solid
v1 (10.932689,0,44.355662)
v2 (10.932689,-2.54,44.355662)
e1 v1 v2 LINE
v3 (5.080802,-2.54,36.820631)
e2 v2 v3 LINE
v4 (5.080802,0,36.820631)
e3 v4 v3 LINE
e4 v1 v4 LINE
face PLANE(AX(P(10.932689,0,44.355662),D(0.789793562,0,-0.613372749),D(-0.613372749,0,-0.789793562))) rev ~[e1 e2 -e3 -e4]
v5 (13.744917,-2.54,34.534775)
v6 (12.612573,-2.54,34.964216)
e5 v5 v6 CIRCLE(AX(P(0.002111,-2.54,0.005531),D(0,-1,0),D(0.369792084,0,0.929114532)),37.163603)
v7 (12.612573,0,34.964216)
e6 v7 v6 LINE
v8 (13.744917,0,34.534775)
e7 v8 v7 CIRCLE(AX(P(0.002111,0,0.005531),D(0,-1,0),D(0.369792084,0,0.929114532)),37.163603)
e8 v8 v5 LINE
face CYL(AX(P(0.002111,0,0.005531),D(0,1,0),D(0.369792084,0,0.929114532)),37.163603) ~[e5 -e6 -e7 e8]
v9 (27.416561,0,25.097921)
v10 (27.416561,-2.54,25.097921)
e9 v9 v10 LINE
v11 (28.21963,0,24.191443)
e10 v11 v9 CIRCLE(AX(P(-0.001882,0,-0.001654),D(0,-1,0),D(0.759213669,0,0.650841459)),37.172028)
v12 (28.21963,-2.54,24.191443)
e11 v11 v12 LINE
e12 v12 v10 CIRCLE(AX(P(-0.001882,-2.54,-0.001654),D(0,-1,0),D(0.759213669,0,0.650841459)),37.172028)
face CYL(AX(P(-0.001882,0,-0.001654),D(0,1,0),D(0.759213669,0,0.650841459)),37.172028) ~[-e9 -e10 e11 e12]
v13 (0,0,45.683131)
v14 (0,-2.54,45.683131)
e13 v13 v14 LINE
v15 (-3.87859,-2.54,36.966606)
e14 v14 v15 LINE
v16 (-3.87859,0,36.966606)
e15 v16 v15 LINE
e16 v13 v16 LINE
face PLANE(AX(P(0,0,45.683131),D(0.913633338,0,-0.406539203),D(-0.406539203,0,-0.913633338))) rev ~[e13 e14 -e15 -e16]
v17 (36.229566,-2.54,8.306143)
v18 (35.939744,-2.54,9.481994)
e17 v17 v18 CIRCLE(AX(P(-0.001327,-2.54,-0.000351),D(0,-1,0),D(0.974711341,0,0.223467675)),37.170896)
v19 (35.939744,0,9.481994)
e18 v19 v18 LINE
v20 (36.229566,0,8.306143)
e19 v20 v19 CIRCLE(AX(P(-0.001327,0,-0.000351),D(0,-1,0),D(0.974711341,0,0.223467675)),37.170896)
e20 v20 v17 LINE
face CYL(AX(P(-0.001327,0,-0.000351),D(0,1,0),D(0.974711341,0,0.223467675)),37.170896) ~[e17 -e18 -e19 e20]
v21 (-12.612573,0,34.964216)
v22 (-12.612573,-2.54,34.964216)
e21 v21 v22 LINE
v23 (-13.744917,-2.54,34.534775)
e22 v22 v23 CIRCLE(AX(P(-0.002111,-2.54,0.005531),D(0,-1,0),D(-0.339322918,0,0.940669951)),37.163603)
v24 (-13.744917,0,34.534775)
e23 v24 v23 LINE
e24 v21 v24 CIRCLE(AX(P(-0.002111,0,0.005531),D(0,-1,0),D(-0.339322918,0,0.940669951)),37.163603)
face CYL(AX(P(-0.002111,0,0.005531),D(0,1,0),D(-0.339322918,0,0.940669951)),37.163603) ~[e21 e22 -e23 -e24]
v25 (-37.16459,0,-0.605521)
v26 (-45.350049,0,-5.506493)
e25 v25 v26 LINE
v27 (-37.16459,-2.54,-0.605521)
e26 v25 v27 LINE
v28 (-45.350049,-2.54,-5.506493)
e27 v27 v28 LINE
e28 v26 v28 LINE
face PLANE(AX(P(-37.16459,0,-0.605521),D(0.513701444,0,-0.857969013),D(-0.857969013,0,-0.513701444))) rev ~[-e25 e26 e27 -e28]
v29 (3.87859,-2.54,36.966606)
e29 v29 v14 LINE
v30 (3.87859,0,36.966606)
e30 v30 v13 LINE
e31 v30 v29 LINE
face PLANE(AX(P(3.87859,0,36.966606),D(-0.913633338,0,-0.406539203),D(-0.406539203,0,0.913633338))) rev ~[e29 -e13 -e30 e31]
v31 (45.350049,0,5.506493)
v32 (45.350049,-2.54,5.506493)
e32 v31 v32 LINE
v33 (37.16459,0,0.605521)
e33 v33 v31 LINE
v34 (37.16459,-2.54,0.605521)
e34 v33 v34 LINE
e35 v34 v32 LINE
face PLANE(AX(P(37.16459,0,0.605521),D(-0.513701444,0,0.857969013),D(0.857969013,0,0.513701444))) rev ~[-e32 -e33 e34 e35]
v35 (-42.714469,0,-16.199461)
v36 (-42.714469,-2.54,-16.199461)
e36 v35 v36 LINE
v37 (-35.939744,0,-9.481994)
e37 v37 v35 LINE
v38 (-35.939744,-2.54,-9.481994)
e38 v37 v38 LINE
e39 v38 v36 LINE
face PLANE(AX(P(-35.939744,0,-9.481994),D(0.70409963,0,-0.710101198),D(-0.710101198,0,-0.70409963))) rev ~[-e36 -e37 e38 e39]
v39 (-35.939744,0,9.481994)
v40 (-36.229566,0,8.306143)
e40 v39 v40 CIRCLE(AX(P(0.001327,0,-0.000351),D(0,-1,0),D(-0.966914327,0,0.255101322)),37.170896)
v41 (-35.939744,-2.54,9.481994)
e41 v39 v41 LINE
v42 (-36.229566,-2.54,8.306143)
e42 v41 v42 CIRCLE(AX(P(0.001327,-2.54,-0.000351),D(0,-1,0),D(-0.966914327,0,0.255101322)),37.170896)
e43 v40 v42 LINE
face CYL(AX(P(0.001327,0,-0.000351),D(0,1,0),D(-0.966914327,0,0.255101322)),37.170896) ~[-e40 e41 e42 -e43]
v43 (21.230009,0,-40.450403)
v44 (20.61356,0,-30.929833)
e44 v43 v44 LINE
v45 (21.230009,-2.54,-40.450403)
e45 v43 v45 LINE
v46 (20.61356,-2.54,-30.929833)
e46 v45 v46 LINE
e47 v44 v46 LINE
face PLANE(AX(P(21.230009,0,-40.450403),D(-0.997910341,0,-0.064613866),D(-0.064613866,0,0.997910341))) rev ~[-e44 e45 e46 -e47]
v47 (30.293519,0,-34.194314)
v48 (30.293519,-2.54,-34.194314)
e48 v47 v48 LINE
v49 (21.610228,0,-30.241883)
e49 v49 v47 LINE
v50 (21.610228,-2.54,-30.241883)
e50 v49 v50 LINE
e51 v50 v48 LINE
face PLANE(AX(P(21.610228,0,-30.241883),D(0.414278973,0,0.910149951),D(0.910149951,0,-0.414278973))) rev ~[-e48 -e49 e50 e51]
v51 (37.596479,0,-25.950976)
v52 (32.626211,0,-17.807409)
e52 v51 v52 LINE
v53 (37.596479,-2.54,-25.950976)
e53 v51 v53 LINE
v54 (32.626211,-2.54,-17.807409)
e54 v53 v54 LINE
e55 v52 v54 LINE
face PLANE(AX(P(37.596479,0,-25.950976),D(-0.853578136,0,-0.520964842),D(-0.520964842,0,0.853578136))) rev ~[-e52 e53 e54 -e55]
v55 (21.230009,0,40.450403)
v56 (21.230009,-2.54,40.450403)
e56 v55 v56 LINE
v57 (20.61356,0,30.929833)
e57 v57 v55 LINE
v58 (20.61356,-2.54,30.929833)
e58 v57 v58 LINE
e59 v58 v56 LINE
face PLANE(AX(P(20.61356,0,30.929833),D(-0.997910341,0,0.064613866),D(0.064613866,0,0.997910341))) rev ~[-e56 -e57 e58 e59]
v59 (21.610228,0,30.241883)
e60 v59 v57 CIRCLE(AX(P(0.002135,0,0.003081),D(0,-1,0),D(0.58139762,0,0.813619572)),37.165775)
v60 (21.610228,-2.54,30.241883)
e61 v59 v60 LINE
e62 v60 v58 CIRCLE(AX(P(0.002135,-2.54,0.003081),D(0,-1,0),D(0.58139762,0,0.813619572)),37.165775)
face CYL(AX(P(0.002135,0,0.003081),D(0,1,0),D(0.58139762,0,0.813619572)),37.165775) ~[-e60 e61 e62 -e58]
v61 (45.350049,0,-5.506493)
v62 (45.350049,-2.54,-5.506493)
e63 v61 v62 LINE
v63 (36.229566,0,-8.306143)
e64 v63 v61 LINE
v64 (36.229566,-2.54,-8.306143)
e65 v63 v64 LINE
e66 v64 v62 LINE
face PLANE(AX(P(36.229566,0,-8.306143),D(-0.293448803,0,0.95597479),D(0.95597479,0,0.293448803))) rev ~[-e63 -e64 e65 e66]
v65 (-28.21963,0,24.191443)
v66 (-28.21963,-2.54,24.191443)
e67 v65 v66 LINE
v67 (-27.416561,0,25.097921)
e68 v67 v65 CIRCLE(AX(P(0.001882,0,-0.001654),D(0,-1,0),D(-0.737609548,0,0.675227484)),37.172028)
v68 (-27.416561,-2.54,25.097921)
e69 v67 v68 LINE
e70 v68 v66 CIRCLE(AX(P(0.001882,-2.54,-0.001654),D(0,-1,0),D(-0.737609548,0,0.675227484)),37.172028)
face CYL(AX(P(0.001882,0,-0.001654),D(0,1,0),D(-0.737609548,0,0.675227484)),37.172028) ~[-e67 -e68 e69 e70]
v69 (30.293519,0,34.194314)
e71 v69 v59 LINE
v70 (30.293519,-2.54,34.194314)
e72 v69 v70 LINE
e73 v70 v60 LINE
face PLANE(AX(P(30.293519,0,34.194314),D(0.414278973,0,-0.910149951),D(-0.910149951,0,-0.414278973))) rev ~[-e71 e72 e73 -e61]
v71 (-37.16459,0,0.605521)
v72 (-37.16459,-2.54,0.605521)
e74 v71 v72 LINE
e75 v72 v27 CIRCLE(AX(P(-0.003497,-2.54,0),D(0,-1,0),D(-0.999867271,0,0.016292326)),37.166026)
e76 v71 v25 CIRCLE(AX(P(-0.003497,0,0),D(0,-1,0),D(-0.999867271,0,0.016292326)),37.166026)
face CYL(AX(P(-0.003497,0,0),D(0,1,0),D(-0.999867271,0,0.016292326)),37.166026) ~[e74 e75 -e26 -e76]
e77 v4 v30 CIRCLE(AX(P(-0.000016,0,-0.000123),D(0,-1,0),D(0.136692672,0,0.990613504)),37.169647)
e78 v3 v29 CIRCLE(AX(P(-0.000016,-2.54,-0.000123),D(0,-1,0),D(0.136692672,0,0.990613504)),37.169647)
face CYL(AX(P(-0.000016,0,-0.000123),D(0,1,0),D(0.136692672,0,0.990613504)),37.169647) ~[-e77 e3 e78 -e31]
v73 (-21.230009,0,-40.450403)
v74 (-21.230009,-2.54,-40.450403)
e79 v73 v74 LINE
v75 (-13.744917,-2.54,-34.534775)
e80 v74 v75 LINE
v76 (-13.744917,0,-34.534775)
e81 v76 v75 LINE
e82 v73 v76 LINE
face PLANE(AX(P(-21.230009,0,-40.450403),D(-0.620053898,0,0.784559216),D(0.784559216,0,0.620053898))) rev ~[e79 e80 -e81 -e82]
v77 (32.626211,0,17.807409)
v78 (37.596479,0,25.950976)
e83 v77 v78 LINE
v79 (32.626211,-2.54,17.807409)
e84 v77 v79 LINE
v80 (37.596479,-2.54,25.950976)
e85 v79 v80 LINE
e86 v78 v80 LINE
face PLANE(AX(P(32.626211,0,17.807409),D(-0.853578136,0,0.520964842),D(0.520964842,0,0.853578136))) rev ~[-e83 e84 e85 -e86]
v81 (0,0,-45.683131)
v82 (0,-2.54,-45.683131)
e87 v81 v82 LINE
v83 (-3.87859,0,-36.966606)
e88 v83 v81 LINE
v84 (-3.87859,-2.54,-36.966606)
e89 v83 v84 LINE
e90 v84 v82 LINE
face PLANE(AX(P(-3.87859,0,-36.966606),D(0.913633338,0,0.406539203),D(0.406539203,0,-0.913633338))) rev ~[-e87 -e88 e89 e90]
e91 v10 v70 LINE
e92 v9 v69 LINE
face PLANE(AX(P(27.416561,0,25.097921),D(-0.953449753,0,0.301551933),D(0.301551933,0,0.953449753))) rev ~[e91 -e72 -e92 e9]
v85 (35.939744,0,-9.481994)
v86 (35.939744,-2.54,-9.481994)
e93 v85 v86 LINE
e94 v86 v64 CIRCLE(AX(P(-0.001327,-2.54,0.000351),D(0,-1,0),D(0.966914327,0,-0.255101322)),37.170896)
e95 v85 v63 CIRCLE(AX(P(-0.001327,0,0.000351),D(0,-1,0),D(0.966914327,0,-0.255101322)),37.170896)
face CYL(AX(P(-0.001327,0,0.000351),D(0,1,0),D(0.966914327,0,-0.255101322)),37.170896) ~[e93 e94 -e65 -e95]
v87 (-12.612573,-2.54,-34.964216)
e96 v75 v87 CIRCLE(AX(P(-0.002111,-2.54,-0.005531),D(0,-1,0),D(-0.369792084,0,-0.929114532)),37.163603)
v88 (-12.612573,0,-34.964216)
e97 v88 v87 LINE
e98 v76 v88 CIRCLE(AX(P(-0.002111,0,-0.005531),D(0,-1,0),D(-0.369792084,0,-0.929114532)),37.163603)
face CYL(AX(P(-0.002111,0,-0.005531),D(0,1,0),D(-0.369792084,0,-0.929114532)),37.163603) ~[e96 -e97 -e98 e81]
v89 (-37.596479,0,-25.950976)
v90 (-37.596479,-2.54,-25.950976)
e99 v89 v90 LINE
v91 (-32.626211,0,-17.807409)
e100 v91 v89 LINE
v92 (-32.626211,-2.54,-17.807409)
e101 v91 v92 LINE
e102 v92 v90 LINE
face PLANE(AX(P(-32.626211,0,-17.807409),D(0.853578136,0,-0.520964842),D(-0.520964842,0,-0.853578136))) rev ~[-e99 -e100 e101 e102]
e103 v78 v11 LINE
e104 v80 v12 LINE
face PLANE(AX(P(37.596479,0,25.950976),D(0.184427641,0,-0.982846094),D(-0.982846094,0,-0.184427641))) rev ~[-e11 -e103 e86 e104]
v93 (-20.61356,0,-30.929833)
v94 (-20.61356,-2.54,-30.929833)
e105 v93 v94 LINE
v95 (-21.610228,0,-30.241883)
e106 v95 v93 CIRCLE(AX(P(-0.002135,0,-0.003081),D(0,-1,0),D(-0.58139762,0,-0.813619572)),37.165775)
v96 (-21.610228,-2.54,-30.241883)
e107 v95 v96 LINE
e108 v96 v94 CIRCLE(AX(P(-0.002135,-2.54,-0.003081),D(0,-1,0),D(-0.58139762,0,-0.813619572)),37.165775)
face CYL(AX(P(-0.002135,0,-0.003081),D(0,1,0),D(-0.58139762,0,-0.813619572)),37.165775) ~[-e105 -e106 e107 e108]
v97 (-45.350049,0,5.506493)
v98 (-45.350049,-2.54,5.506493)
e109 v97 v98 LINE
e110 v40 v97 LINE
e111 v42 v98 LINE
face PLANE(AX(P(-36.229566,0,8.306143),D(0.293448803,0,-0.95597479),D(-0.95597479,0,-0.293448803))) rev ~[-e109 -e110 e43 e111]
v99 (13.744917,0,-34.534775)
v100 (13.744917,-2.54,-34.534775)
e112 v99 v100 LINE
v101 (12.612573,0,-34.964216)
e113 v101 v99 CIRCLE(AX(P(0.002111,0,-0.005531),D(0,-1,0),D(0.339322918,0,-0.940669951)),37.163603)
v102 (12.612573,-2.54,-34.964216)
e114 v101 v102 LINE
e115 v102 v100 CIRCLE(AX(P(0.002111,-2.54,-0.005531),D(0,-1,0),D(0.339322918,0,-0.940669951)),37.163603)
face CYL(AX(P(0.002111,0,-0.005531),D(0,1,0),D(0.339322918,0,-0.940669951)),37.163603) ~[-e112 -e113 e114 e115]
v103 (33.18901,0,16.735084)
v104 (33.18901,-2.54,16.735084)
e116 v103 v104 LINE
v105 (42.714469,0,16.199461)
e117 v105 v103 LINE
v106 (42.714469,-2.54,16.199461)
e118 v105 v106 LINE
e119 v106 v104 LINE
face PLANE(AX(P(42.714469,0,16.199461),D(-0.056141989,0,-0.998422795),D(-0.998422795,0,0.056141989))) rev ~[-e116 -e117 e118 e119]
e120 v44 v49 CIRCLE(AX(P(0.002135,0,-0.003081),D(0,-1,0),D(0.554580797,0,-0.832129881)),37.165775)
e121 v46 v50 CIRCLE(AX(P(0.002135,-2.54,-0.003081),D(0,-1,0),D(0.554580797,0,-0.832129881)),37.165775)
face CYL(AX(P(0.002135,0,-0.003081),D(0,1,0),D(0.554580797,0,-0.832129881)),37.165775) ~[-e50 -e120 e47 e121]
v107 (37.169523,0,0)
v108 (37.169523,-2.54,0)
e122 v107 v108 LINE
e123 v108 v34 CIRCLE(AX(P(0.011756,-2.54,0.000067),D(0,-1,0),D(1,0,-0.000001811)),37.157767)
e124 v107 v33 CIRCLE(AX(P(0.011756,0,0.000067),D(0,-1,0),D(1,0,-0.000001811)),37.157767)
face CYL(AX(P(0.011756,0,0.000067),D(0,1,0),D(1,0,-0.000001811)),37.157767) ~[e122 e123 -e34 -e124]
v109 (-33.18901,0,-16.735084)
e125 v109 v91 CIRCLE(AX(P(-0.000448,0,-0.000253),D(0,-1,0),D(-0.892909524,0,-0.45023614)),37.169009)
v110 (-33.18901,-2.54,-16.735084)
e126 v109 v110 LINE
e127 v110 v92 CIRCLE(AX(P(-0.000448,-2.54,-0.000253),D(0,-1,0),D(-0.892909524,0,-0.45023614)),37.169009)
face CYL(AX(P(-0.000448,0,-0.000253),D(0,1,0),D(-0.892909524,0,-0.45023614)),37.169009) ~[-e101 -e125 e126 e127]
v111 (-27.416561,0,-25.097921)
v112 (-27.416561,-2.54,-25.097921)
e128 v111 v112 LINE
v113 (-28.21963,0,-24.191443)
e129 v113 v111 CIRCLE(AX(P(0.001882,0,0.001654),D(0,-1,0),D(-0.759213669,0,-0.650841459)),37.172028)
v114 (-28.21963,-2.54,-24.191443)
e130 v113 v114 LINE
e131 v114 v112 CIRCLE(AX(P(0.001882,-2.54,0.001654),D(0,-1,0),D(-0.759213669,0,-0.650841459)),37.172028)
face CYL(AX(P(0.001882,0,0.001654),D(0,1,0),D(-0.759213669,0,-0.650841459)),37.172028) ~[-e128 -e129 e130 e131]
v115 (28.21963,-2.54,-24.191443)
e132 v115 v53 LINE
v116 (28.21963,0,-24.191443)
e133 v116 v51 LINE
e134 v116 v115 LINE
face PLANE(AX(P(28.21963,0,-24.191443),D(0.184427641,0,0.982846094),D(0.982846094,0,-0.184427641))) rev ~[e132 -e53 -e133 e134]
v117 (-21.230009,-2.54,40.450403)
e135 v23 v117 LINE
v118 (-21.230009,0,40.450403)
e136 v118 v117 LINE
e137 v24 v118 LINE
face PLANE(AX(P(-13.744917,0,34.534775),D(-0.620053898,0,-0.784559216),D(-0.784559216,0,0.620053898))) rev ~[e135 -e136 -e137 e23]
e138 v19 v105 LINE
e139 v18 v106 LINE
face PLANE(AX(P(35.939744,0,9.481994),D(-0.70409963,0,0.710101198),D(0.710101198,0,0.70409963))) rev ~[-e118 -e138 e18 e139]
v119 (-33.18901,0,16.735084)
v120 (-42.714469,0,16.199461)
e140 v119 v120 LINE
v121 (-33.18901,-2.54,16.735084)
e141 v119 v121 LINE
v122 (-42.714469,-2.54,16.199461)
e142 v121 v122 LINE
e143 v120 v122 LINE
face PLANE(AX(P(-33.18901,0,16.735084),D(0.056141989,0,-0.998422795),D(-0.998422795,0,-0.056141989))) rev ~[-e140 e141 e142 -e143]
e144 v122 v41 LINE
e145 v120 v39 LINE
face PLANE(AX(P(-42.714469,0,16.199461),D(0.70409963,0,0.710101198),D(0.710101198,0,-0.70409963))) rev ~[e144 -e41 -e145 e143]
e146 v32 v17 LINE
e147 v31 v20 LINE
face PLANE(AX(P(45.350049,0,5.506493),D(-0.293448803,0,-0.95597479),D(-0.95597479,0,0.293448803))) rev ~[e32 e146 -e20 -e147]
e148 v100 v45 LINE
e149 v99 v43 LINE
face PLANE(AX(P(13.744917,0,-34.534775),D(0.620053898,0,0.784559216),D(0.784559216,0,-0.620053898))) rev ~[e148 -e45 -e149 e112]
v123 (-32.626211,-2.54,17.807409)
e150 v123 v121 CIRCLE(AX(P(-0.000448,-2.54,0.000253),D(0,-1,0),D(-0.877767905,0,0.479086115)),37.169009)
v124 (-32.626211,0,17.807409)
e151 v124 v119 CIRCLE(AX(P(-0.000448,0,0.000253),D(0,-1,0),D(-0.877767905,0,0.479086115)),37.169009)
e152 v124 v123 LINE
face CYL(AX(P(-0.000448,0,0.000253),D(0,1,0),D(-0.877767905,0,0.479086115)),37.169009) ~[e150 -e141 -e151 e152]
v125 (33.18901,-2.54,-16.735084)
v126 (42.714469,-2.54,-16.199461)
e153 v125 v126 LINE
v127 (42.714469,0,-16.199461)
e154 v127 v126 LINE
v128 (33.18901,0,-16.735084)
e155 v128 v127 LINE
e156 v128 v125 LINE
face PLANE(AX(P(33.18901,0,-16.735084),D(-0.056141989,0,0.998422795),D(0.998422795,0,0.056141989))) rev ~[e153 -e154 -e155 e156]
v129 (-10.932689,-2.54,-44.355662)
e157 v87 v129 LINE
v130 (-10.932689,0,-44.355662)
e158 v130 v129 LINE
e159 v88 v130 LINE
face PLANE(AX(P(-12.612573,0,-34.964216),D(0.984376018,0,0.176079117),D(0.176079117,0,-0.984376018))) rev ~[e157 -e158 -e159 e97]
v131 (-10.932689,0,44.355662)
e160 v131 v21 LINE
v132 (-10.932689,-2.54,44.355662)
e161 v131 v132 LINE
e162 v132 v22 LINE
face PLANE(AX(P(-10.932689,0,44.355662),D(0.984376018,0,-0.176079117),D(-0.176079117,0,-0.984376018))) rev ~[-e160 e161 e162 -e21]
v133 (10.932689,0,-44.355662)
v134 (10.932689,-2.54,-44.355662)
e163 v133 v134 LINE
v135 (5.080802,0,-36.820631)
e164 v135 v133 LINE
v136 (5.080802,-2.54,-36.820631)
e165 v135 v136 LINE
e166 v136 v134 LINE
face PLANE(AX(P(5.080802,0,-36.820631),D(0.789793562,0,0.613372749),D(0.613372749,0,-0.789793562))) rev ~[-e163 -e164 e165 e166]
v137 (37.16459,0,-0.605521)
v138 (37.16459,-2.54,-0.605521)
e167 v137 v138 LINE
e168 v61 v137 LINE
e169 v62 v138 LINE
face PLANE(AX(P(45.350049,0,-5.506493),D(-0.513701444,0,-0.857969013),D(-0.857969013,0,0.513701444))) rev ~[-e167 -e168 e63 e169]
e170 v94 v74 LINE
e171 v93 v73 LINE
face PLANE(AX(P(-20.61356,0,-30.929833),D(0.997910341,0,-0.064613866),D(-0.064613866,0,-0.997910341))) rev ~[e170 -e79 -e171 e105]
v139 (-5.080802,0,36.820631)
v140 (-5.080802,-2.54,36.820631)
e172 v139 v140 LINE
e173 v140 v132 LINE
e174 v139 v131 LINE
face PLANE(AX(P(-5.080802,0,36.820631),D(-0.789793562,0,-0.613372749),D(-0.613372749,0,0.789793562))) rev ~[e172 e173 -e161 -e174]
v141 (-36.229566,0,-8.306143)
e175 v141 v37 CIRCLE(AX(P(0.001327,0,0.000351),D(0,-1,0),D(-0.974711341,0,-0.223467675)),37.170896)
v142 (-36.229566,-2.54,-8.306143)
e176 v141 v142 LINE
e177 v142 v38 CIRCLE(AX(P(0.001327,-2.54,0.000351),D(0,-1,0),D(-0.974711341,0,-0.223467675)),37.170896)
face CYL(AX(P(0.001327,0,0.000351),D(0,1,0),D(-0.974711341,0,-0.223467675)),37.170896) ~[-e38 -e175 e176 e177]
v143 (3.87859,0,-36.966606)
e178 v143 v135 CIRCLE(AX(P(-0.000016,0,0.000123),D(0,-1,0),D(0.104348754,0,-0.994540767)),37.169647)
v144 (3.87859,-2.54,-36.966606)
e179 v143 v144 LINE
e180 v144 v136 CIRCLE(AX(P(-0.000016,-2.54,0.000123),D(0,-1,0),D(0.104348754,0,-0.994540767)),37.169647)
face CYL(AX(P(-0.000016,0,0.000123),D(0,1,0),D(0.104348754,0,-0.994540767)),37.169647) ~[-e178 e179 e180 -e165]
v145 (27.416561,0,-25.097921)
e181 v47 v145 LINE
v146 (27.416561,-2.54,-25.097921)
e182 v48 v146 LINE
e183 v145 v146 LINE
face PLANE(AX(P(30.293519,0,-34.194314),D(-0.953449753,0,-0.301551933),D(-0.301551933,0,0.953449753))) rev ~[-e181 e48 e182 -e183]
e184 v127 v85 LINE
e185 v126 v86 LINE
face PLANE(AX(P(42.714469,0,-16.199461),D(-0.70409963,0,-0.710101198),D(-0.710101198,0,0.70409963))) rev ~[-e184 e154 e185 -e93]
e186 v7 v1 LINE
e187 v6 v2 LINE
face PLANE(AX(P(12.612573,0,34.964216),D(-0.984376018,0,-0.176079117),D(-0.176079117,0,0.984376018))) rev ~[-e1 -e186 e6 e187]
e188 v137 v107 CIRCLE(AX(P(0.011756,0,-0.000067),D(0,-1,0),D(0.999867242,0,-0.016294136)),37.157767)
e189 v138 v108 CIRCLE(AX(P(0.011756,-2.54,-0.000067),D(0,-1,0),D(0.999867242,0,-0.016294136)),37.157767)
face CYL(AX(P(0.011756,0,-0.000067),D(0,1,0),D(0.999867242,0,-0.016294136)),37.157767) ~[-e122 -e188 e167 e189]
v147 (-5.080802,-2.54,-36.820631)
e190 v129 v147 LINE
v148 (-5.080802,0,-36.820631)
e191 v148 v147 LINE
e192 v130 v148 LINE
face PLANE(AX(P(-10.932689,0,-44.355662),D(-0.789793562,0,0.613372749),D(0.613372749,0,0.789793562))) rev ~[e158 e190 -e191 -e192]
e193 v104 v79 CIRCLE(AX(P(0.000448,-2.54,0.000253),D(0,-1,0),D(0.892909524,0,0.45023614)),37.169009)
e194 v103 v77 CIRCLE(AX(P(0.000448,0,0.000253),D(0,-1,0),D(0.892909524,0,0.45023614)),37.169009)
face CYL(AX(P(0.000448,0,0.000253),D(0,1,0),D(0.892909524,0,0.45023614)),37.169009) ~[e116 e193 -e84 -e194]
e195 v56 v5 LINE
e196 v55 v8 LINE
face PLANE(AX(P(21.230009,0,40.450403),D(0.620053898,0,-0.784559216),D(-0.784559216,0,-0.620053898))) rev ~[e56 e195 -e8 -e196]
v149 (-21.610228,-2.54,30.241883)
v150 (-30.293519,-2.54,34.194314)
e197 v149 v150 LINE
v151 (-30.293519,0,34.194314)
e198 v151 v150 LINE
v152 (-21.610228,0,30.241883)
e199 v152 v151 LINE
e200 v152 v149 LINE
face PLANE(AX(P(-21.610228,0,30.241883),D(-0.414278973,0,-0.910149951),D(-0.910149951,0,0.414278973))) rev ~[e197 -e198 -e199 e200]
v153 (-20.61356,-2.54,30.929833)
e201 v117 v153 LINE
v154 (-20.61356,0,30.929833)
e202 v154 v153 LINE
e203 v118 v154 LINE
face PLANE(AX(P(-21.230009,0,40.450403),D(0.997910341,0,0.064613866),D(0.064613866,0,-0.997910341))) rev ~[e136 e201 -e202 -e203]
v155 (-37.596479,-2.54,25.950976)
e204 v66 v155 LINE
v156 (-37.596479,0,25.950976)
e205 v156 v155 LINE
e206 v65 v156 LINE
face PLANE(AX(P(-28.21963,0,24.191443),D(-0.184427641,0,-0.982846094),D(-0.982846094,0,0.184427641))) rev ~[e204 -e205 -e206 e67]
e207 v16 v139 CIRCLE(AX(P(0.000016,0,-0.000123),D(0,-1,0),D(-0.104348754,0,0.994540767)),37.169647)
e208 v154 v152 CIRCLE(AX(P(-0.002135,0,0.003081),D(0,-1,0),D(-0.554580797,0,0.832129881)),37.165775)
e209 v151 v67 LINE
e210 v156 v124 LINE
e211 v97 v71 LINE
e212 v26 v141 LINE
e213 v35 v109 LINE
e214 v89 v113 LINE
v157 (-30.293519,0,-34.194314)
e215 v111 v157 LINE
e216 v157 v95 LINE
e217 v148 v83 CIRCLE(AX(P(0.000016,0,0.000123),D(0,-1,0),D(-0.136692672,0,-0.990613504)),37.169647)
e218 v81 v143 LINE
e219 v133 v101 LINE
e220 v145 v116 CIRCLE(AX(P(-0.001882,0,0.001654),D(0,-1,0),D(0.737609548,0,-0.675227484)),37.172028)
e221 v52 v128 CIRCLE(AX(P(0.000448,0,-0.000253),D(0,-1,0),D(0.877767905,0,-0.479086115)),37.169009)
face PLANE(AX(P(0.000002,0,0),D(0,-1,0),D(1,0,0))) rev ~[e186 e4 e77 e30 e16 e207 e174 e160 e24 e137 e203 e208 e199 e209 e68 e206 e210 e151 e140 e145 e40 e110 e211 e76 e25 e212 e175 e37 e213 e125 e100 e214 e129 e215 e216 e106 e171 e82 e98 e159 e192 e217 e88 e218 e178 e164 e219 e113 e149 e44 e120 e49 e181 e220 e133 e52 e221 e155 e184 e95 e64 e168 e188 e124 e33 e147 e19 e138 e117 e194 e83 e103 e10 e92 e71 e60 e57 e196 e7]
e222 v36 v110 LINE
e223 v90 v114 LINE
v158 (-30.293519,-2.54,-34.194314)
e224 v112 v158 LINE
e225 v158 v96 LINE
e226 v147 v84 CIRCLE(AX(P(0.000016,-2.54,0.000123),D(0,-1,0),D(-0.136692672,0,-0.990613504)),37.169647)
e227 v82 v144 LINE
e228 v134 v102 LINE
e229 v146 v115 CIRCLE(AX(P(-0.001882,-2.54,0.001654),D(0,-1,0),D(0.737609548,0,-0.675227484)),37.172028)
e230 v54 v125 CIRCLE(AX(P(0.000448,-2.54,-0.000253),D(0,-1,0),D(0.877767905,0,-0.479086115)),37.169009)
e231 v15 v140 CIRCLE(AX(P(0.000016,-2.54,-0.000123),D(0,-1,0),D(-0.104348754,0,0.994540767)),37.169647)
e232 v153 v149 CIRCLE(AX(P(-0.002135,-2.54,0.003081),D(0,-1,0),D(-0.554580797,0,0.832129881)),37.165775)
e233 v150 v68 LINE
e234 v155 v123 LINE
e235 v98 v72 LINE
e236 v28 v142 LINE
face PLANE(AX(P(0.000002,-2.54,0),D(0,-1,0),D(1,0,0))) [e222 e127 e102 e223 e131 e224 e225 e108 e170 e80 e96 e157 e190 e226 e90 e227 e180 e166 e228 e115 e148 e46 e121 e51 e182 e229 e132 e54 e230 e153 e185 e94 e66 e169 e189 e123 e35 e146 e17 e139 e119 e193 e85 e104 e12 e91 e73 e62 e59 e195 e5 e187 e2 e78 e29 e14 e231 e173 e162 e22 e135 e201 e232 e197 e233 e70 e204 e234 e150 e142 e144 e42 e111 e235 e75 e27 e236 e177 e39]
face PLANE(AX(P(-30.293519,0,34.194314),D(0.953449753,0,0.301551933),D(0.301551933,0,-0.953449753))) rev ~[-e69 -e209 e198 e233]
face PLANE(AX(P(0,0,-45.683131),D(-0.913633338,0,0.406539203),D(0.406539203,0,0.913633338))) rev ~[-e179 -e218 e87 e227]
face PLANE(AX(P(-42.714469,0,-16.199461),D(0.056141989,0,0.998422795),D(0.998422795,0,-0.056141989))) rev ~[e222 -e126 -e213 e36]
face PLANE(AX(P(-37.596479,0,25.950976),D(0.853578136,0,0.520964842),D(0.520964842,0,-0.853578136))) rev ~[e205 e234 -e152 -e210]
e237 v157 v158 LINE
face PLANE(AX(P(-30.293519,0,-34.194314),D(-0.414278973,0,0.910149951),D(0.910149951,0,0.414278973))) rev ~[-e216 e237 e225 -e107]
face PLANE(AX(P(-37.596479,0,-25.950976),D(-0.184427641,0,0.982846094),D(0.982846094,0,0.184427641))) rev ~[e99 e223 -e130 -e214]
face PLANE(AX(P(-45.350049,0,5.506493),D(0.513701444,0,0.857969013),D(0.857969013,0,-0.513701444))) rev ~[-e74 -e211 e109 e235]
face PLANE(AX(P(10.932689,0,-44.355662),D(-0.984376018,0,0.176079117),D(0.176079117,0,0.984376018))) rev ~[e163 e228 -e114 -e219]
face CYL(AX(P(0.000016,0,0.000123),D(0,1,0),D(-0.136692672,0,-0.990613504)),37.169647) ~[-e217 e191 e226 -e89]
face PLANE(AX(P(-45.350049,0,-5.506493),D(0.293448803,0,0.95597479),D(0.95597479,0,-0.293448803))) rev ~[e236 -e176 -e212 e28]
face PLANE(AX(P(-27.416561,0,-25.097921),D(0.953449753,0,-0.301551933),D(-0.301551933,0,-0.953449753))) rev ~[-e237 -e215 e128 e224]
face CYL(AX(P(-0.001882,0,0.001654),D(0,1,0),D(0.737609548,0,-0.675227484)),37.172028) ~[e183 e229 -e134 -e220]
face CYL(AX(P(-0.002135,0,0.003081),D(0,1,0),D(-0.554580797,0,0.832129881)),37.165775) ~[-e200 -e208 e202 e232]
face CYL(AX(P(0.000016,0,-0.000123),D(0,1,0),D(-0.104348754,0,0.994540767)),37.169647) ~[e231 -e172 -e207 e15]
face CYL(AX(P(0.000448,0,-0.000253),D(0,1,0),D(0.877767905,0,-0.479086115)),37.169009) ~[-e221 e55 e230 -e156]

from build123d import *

# Parameters (mm, degrees)
F1_DEPTH = 2.54


with BuildPart() as f1:
    # F0 (on Front) → F1 (new body)
    with BuildSketch(Plane.XZ):
        with BuildLine():
            ThreePointArc((37.16459, -0.605521), (37.16829, -0.302771), (37.169523, 0))
            ThreePointArc((37.169523, 0), (37.16829, 0.302771), (37.16459, 0.605521))
            ThreePointArc((37.16459, 0.605521), (36.898515, 4.480291), (36.229566, 8.306143))
            ThreePointArc((36.229566, 8.306143), (36.089444, 8.895249), (35.939744, 9.481994))
            ThreePointArc((35.939744, 9.481994), (34.754108, 13.180495), (33.18901, 16.735084))
            ThreePointArc((33.18901, 16.735084), (32.911978, 17.273539), (32.626211, 17.807409))
            ThreePointArc((32.626211, 17.807409), (30.589918, 21.114696), (28.21963, 24.191443))
            ThreePointArc((28.21963, 24.191443), (27.821787, 24.647953), (27.416561, 25.097921))
            ThreePointArc((27.416561, 25.097921), (24.647953, 27.821787), (21.610228, 30.241883))
            ThreePointArc((21.610228, 30.241883), (21.114696, 30.589918), (20.61356, 30.929833))
            ThreePointArc((20.61356, 30.929833), (17.273539, 32.911978), (13.744917, 34.534775))
            ThreePointArc((13.744917, 34.534775), (13.180495, 34.754108), (12.612573, 34.964216))
            ThreePointArc((12.612573, 34.964216), (8.895249, 36.089444), (5.080802, 36.820631))
            ThreePointArc((5.080802, 36.820631), (4.480291, 36.898515), (3.87859, 36.966606))
            ThreePointArc((3.87859, 36.966606), (0, 37.169523), (-3.87859, 36.966606))
            ThreePointArc((-3.87859, 36.966606), (-4.480291, 36.898515), (-5.080802, 36.820631))
            ThreePointArc((-5.080802, 36.820631), (-8.895249, 36.089444), (-12.612573, 34.964216))
            ThreePointArc((-12.612573, 34.964216), (-13.180495, 34.754108), (-13.744917, 34.534775))
            ThreePointArc((-13.744917, 34.534775), (-17.273539, 32.911978), (-20.61356, 30.929833))
            ThreePointArc((-20.61356, 30.929833), (-21.114696, 30.589918), (-21.610228, 30.241883))
            ThreePointArc((-21.610228, 30.241883), (-24.647953, 27.821787), (-27.416561, 25.097921))
            ThreePointArc((-27.416561, 25.097921), (-27.821787, 24.647953), (-28.21963, 24.191443))
            ThreePointArc((-28.21963, 24.191443), (-30.589918, 21.114696), (-32.626211, 17.807409))
            ThreePointArc((-32.626211, 17.807409), (-32.911978, 17.273539), (-33.18901, 16.735084))
            ThreePointArc((-33.18901, 16.735084), (-34.754108, 13.180495), (-35.939744, 9.481994))
            ThreePointArc((-35.939744, 9.481994), (-36.089444, 8.895249), (-36.229566, 8.306143))
            ThreePointArc((-36.229566, 8.306143), (-36.898515, 4.480291), (-37.16459, 0.605521))
            ThreePointArc((-37.16459, 0.605521), (-37.169523, 0), (-37.16459, -0.605521))
            ThreePointArc((-37.16459, -0.605521), (-36.898515, -4.480291), (-36.229566, -8.306143))
            ThreePointArc((-36.229566, -8.306143), (-36.089444, -8.895249), (-35.939744, -9.481994))
            ThreePointArc((-35.939744, -9.481994), (-34.754108, -13.180495), (-33.18901, -16.735084))
            ThreePointArc((-33.18901, -16.735084), (-32.911978, -17.273539), (-32.626211, -17.807409))
            ThreePointArc((-32.626211, -17.807409), (-30.589918, -21.114696), (-28.21963, -24.191443))
            ThreePointArc((-28.21963, -24.191443), (-27.821787, -24.647953), (-27.416561, -25.097921))
            ThreePointArc((-27.416561, -25.097921), (-24.647953, -27.821787), (-21.610228, -30.241883))
            ThreePointArc((-21.610228, -30.241883), (-21.114696, -30.589918), (-20.61356, -30.929833))
            ThreePointArc((-20.61356, -30.929833), (-17.273539, -32.911978), (-13.744917, -34.534775))
            ThreePointArc((-13.744917, -34.534775), (-13.180495, -34.754108), (-12.612573, -34.964216))
            ThreePointArc((-12.612573, -34.964216), (-8.895249, -36.089444), (-5.080802, -36.820631))
            ThreePointArc((-5.080802, -36.820631), (-4.480291, -36.898515), (-3.87859, -36.966606))
            ThreePointArc((-3.87859, -36.966606), (0, -37.169523), (3.87859, -36.966606))
            ThreePointArc((3.87859, -36.966606), (4.480291, -36.898515), (5.080802, -36.820631))
            ThreePointArc((5.080802, -36.820631), (8.895249, -36.089444), (12.612573, -34.964216))
            ThreePointArc((12.612573, -34.964216), (13.180495, -34.754108), (13.744917, -34.534775))
            ThreePointArc((13.744917, -34.534775), (17.273539, -32.911978), (20.61356, -30.929833))
            ThreePointArc((20.61356, -30.929833), (21.114696, -30.589918), (21.610228, -30.241883))
            ThreePointArc((21.610228, -30.241883), (24.647953, -27.821787), (27.416561, -25.097921))
            ThreePointArc((27.416561, -25.097921), (27.821787, -24.647953), (28.21963, -24.191443))
            ThreePointArc((28.21963, -24.191443), (30.589918, -21.114696), (32.626211, -17.807409))
            ThreePointArc((32.626211, -17.807409), (32.911978, -17.273539), (33.18901, -16.735084))
            ThreePointArc((33.18901, -16.735084), (34.754108, -13.180495), (35.939744, -9.481994))
            ThreePointArc((35.939744, -9.481994), (36.089444, -8.895249), (36.229566, -8.306143))
            ThreePointArc((36.229566, -8.306143), (36.898515, -4.480291), (37.16459, -0.605521))
        make_face()
        with BuildLine():
            ThreePointArc((36.229566, 8.306143), (36.898515, 4.480291), (37.16459, 0.605521))
            Line((37.16459, 0.605521), (45.350049, 5.506493))
            Line((45.350049, 5.506493), (36.229566, 8.306143))
        make_face()
        with BuildLine():
            Line((45.350049, -5.506493), (37.16459, -0.605521))
            ThreePointArc((37.16459, -0.605521), (36.898515, -4.480291), (36.229566, -8.306143))
            Line((36.229566, -8.306143), (45.350049, -5.506493))
        make_face()
        with BuildLine():
            ThreePointArc((33.18901, 16.735084), (34.754108, 13.180495), (35.939744, 9.481994))
            Line((35.939744, 9.481994), (42.714469, 16.199461))
            Line((42.714469, 16.199461), (33.18901, 16.735084))
        make_face()
        with BuildLine():
            Line((42.714469, -16.199461), (35.939744, -9.481994))
            ThreePointArc((35.939744, -9.481994), (34.754108, -13.180495), (33.18901, -16.735084))
            Line((33.18901, -16.735084), (42.714469, -16.199461))
        make_face()
        with BuildLine():
            ThreePointArc((28.21963, 24.191443), (30.589918, 21.114696), (32.626211, 17.807409))
            Line((32.626211, 17.807409), (37.596479, 25.950976))
            Line((37.596479, 25.950976), (28.21963, 24.191443))
        make_face()
        with BuildLine():
            Line((37.596479, -25.950976), (32.626211, -17.807409))
            ThreePointArc((32.626211, -17.807409), (30.589918, -21.114696), (28.21963, -24.191443))
            Line((28.21963, -24.191443), (37.596479, -25.950976))
        make_face()
        with BuildLine():
            ThreePointArc((21.610228, 30.241883), (24.647953, 27.821787), (27.416561, 25.097921))
            Line((27.416561, 25.097921), (30.293519, 34.194314))
            Line((30.293519, 34.194314), (21.610228, 30.241883))
        make_face()
        with BuildLine():
            Line((30.293519, -34.194314), (27.416561, -25.097921))
            ThreePointArc((27.416561, -25.097921), (24.647953, -27.821787), (21.610228, -30.241883))
            Line((21.610228, -30.241883), (30.293519, -34.194314))
        make_face()
        with BuildLine():
            ThreePointArc((13.744917, 34.534775), (17.273539, 32.911978), (20.61356, 30.929833))
            Line((20.61356, 30.929833), (21.230009, 40.450403))
            Line((21.230009, 40.450403), (13.744917, 34.534775))
        make_face()
        with BuildLine():
            Line((21.230009, -40.450403), (20.61356, -30.929833))
            ThreePointArc((20.61356, -30.929833), (17.273539, -32.911978), (13.744917, -34.534775))
            Line((13.744917, -34.534775), (21.230009, -40.450403))
        make_face()
        with BuildLine():
            ThreePointArc((5.080802, 36.820631), (8.895249, 36.089444), (12.612573, 34.964216))
            Line((12.612573, 34.964216), (10.932689, 44.355662))
            Line((10.932689, 44.355662), (5.080802, 36.820631))
        make_face()
        with BuildLine():
            Line((10.932689, -44.355662), (12.612573, -34.964216))
            ThreePointArc((12.612573, -34.964216), (8.895249, -36.089444), (5.080802, -36.820631))
            Line((5.080802, -36.820631), (10.932689, -44.355662))
        make_face()
        with BuildLine():
            ThreePointArc((-3.87859, 36.966606), (0, 37.169523), (3.87859, 36.966606))
            Line((3.87859, 36.966606), (0, 45.683131))
            Line((0, 45.683131), (-3.87859, 36.966606))
        make_face()
        with BuildLine():
            Line((0, -45.683131), (3.87859, -36.966606))
            ThreePointArc((3.87859, -36.966606), (0, -37.169523), (-3.87859, -36.966606))
            Line((-3.87859, -36.966606), (0, -45.683131))
        make_face()
        with BuildLine():
            ThreePointArc((-12.612573, 34.964216), (-8.895249, 36.089444), (-5.080802, 36.820631))
            Line((-5.080802, 36.820631), (-10.932689, 44.355662))
            Line((-10.932689, 44.355662), (-12.612573, 34.964216))
        make_face()
        with BuildLine():
            Line((-10.932689, -44.355662), (-5.080802, -36.820631))
            ThreePointArc((-5.080802, -36.820631), (-8.895249, -36.089444), (-12.612573, -34.964216))
            Line((-12.612573, -34.964216), (-10.932689, -44.355662))
        make_face()
        with BuildLine():
            ThreePointArc((-20.61356, 30.929833), (-17.273539, 32.911978), (-13.744917, 34.534775))
            Line((-13.744917, 34.534775), (-21.230009, 40.450403))
            Line((-21.230009, 40.450403), (-20.61356, 30.929833))
        make_face()
        with BuildLine():
            Line((-21.230009, -40.450403), (-13.744917, -34.534775))
            ThreePointArc((-13.744917, -34.534775), (-17.273539, -32.911978), (-20.61356, -30.929833))
            Line((-20.61356, -30.929833), (-21.230009, -40.450403))
        make_face()
        with BuildLine():
            ThreePointArc((-27.416561, 25.097921), (-24.647953, 27.821787), (-21.610228, 30.241883))
            Line((-21.610228, 30.241883), (-30.293519, 34.194314))
            Line((-30.293519, 34.194314), (-27.416561, 25.097921))
        make_face()
        with BuildLine():
            Line((-30.293519, -34.194314), (-21.610228, -30.241883))
            ThreePointArc((-21.610228, -30.241883), (-24.647953, -27.821787), (-27.416561, -25.097921))
            Line((-27.416561, -25.097921), (-30.293519, -34.194314))
        make_face()
        with BuildLine():
            ThreePointArc((-32.626211, 17.807409), (-30.589918, 21.114696), (-28.21963, 24.191443))
            Line((-28.21963, 24.191443), (-37.596479, 25.950976))
            Line((-37.596479, 25.950976), (-32.626211, 17.807409))
        make_face()
        with BuildLine():
            Line((-37.596479, -25.950976), (-28.21963, -24.191443))
            ThreePointArc((-28.21963, -24.191443), (-30.589918, -21.114696), (-32.626211, -17.807409))
            Line((-32.626211, -17.807409), (-37.596479, -25.950976))
        make_face()
        with BuildLine():
            ThreePointArc((-35.939744, 9.481994), (-34.754108, 13.180495), (-33.18901, 16.735084))
            Line((-33.18901, 16.735084), (-42.714469, 16.199461))
            Line((-42.714469, 16.199461), (-35.939744, 9.481994))
        make_face()
        with BuildLine():
            Line((-42.714469, -16.199461), (-33.18901, -16.735084))
            ThreePointArc((-33.18901, -16.735084), (-34.754108, -13.180495), (-35.939744, -9.481994))
            Line((-35.939744, -9.481994), (-42.714469, -16.199461))
        make_face()
        with BuildLine():
            ThreePointArc((-37.16459, 0.605521), (-36.898515, 4.480291), (-36.229566, 8.306143))
            Line((-36.229566, 8.306143), (-45.350049, 5.506493))
            Line((-45.350049, 5.506493), (-37.16459, 0.605521))
        make_face()
        with BuildLine():
            Line((-45.350049, -5.506493), (-36.229566, -8.306143))
            ThreePointArc((-36.229566, -8.306143), (-36.898515, -4.480291), (-37.16459, -0.605521))
            Line((-37.16459, -0.605521), (-45.350049, -5.506493))
        make_face()
    extrude(amount=F1_DEPTH)


solid = f1.part
